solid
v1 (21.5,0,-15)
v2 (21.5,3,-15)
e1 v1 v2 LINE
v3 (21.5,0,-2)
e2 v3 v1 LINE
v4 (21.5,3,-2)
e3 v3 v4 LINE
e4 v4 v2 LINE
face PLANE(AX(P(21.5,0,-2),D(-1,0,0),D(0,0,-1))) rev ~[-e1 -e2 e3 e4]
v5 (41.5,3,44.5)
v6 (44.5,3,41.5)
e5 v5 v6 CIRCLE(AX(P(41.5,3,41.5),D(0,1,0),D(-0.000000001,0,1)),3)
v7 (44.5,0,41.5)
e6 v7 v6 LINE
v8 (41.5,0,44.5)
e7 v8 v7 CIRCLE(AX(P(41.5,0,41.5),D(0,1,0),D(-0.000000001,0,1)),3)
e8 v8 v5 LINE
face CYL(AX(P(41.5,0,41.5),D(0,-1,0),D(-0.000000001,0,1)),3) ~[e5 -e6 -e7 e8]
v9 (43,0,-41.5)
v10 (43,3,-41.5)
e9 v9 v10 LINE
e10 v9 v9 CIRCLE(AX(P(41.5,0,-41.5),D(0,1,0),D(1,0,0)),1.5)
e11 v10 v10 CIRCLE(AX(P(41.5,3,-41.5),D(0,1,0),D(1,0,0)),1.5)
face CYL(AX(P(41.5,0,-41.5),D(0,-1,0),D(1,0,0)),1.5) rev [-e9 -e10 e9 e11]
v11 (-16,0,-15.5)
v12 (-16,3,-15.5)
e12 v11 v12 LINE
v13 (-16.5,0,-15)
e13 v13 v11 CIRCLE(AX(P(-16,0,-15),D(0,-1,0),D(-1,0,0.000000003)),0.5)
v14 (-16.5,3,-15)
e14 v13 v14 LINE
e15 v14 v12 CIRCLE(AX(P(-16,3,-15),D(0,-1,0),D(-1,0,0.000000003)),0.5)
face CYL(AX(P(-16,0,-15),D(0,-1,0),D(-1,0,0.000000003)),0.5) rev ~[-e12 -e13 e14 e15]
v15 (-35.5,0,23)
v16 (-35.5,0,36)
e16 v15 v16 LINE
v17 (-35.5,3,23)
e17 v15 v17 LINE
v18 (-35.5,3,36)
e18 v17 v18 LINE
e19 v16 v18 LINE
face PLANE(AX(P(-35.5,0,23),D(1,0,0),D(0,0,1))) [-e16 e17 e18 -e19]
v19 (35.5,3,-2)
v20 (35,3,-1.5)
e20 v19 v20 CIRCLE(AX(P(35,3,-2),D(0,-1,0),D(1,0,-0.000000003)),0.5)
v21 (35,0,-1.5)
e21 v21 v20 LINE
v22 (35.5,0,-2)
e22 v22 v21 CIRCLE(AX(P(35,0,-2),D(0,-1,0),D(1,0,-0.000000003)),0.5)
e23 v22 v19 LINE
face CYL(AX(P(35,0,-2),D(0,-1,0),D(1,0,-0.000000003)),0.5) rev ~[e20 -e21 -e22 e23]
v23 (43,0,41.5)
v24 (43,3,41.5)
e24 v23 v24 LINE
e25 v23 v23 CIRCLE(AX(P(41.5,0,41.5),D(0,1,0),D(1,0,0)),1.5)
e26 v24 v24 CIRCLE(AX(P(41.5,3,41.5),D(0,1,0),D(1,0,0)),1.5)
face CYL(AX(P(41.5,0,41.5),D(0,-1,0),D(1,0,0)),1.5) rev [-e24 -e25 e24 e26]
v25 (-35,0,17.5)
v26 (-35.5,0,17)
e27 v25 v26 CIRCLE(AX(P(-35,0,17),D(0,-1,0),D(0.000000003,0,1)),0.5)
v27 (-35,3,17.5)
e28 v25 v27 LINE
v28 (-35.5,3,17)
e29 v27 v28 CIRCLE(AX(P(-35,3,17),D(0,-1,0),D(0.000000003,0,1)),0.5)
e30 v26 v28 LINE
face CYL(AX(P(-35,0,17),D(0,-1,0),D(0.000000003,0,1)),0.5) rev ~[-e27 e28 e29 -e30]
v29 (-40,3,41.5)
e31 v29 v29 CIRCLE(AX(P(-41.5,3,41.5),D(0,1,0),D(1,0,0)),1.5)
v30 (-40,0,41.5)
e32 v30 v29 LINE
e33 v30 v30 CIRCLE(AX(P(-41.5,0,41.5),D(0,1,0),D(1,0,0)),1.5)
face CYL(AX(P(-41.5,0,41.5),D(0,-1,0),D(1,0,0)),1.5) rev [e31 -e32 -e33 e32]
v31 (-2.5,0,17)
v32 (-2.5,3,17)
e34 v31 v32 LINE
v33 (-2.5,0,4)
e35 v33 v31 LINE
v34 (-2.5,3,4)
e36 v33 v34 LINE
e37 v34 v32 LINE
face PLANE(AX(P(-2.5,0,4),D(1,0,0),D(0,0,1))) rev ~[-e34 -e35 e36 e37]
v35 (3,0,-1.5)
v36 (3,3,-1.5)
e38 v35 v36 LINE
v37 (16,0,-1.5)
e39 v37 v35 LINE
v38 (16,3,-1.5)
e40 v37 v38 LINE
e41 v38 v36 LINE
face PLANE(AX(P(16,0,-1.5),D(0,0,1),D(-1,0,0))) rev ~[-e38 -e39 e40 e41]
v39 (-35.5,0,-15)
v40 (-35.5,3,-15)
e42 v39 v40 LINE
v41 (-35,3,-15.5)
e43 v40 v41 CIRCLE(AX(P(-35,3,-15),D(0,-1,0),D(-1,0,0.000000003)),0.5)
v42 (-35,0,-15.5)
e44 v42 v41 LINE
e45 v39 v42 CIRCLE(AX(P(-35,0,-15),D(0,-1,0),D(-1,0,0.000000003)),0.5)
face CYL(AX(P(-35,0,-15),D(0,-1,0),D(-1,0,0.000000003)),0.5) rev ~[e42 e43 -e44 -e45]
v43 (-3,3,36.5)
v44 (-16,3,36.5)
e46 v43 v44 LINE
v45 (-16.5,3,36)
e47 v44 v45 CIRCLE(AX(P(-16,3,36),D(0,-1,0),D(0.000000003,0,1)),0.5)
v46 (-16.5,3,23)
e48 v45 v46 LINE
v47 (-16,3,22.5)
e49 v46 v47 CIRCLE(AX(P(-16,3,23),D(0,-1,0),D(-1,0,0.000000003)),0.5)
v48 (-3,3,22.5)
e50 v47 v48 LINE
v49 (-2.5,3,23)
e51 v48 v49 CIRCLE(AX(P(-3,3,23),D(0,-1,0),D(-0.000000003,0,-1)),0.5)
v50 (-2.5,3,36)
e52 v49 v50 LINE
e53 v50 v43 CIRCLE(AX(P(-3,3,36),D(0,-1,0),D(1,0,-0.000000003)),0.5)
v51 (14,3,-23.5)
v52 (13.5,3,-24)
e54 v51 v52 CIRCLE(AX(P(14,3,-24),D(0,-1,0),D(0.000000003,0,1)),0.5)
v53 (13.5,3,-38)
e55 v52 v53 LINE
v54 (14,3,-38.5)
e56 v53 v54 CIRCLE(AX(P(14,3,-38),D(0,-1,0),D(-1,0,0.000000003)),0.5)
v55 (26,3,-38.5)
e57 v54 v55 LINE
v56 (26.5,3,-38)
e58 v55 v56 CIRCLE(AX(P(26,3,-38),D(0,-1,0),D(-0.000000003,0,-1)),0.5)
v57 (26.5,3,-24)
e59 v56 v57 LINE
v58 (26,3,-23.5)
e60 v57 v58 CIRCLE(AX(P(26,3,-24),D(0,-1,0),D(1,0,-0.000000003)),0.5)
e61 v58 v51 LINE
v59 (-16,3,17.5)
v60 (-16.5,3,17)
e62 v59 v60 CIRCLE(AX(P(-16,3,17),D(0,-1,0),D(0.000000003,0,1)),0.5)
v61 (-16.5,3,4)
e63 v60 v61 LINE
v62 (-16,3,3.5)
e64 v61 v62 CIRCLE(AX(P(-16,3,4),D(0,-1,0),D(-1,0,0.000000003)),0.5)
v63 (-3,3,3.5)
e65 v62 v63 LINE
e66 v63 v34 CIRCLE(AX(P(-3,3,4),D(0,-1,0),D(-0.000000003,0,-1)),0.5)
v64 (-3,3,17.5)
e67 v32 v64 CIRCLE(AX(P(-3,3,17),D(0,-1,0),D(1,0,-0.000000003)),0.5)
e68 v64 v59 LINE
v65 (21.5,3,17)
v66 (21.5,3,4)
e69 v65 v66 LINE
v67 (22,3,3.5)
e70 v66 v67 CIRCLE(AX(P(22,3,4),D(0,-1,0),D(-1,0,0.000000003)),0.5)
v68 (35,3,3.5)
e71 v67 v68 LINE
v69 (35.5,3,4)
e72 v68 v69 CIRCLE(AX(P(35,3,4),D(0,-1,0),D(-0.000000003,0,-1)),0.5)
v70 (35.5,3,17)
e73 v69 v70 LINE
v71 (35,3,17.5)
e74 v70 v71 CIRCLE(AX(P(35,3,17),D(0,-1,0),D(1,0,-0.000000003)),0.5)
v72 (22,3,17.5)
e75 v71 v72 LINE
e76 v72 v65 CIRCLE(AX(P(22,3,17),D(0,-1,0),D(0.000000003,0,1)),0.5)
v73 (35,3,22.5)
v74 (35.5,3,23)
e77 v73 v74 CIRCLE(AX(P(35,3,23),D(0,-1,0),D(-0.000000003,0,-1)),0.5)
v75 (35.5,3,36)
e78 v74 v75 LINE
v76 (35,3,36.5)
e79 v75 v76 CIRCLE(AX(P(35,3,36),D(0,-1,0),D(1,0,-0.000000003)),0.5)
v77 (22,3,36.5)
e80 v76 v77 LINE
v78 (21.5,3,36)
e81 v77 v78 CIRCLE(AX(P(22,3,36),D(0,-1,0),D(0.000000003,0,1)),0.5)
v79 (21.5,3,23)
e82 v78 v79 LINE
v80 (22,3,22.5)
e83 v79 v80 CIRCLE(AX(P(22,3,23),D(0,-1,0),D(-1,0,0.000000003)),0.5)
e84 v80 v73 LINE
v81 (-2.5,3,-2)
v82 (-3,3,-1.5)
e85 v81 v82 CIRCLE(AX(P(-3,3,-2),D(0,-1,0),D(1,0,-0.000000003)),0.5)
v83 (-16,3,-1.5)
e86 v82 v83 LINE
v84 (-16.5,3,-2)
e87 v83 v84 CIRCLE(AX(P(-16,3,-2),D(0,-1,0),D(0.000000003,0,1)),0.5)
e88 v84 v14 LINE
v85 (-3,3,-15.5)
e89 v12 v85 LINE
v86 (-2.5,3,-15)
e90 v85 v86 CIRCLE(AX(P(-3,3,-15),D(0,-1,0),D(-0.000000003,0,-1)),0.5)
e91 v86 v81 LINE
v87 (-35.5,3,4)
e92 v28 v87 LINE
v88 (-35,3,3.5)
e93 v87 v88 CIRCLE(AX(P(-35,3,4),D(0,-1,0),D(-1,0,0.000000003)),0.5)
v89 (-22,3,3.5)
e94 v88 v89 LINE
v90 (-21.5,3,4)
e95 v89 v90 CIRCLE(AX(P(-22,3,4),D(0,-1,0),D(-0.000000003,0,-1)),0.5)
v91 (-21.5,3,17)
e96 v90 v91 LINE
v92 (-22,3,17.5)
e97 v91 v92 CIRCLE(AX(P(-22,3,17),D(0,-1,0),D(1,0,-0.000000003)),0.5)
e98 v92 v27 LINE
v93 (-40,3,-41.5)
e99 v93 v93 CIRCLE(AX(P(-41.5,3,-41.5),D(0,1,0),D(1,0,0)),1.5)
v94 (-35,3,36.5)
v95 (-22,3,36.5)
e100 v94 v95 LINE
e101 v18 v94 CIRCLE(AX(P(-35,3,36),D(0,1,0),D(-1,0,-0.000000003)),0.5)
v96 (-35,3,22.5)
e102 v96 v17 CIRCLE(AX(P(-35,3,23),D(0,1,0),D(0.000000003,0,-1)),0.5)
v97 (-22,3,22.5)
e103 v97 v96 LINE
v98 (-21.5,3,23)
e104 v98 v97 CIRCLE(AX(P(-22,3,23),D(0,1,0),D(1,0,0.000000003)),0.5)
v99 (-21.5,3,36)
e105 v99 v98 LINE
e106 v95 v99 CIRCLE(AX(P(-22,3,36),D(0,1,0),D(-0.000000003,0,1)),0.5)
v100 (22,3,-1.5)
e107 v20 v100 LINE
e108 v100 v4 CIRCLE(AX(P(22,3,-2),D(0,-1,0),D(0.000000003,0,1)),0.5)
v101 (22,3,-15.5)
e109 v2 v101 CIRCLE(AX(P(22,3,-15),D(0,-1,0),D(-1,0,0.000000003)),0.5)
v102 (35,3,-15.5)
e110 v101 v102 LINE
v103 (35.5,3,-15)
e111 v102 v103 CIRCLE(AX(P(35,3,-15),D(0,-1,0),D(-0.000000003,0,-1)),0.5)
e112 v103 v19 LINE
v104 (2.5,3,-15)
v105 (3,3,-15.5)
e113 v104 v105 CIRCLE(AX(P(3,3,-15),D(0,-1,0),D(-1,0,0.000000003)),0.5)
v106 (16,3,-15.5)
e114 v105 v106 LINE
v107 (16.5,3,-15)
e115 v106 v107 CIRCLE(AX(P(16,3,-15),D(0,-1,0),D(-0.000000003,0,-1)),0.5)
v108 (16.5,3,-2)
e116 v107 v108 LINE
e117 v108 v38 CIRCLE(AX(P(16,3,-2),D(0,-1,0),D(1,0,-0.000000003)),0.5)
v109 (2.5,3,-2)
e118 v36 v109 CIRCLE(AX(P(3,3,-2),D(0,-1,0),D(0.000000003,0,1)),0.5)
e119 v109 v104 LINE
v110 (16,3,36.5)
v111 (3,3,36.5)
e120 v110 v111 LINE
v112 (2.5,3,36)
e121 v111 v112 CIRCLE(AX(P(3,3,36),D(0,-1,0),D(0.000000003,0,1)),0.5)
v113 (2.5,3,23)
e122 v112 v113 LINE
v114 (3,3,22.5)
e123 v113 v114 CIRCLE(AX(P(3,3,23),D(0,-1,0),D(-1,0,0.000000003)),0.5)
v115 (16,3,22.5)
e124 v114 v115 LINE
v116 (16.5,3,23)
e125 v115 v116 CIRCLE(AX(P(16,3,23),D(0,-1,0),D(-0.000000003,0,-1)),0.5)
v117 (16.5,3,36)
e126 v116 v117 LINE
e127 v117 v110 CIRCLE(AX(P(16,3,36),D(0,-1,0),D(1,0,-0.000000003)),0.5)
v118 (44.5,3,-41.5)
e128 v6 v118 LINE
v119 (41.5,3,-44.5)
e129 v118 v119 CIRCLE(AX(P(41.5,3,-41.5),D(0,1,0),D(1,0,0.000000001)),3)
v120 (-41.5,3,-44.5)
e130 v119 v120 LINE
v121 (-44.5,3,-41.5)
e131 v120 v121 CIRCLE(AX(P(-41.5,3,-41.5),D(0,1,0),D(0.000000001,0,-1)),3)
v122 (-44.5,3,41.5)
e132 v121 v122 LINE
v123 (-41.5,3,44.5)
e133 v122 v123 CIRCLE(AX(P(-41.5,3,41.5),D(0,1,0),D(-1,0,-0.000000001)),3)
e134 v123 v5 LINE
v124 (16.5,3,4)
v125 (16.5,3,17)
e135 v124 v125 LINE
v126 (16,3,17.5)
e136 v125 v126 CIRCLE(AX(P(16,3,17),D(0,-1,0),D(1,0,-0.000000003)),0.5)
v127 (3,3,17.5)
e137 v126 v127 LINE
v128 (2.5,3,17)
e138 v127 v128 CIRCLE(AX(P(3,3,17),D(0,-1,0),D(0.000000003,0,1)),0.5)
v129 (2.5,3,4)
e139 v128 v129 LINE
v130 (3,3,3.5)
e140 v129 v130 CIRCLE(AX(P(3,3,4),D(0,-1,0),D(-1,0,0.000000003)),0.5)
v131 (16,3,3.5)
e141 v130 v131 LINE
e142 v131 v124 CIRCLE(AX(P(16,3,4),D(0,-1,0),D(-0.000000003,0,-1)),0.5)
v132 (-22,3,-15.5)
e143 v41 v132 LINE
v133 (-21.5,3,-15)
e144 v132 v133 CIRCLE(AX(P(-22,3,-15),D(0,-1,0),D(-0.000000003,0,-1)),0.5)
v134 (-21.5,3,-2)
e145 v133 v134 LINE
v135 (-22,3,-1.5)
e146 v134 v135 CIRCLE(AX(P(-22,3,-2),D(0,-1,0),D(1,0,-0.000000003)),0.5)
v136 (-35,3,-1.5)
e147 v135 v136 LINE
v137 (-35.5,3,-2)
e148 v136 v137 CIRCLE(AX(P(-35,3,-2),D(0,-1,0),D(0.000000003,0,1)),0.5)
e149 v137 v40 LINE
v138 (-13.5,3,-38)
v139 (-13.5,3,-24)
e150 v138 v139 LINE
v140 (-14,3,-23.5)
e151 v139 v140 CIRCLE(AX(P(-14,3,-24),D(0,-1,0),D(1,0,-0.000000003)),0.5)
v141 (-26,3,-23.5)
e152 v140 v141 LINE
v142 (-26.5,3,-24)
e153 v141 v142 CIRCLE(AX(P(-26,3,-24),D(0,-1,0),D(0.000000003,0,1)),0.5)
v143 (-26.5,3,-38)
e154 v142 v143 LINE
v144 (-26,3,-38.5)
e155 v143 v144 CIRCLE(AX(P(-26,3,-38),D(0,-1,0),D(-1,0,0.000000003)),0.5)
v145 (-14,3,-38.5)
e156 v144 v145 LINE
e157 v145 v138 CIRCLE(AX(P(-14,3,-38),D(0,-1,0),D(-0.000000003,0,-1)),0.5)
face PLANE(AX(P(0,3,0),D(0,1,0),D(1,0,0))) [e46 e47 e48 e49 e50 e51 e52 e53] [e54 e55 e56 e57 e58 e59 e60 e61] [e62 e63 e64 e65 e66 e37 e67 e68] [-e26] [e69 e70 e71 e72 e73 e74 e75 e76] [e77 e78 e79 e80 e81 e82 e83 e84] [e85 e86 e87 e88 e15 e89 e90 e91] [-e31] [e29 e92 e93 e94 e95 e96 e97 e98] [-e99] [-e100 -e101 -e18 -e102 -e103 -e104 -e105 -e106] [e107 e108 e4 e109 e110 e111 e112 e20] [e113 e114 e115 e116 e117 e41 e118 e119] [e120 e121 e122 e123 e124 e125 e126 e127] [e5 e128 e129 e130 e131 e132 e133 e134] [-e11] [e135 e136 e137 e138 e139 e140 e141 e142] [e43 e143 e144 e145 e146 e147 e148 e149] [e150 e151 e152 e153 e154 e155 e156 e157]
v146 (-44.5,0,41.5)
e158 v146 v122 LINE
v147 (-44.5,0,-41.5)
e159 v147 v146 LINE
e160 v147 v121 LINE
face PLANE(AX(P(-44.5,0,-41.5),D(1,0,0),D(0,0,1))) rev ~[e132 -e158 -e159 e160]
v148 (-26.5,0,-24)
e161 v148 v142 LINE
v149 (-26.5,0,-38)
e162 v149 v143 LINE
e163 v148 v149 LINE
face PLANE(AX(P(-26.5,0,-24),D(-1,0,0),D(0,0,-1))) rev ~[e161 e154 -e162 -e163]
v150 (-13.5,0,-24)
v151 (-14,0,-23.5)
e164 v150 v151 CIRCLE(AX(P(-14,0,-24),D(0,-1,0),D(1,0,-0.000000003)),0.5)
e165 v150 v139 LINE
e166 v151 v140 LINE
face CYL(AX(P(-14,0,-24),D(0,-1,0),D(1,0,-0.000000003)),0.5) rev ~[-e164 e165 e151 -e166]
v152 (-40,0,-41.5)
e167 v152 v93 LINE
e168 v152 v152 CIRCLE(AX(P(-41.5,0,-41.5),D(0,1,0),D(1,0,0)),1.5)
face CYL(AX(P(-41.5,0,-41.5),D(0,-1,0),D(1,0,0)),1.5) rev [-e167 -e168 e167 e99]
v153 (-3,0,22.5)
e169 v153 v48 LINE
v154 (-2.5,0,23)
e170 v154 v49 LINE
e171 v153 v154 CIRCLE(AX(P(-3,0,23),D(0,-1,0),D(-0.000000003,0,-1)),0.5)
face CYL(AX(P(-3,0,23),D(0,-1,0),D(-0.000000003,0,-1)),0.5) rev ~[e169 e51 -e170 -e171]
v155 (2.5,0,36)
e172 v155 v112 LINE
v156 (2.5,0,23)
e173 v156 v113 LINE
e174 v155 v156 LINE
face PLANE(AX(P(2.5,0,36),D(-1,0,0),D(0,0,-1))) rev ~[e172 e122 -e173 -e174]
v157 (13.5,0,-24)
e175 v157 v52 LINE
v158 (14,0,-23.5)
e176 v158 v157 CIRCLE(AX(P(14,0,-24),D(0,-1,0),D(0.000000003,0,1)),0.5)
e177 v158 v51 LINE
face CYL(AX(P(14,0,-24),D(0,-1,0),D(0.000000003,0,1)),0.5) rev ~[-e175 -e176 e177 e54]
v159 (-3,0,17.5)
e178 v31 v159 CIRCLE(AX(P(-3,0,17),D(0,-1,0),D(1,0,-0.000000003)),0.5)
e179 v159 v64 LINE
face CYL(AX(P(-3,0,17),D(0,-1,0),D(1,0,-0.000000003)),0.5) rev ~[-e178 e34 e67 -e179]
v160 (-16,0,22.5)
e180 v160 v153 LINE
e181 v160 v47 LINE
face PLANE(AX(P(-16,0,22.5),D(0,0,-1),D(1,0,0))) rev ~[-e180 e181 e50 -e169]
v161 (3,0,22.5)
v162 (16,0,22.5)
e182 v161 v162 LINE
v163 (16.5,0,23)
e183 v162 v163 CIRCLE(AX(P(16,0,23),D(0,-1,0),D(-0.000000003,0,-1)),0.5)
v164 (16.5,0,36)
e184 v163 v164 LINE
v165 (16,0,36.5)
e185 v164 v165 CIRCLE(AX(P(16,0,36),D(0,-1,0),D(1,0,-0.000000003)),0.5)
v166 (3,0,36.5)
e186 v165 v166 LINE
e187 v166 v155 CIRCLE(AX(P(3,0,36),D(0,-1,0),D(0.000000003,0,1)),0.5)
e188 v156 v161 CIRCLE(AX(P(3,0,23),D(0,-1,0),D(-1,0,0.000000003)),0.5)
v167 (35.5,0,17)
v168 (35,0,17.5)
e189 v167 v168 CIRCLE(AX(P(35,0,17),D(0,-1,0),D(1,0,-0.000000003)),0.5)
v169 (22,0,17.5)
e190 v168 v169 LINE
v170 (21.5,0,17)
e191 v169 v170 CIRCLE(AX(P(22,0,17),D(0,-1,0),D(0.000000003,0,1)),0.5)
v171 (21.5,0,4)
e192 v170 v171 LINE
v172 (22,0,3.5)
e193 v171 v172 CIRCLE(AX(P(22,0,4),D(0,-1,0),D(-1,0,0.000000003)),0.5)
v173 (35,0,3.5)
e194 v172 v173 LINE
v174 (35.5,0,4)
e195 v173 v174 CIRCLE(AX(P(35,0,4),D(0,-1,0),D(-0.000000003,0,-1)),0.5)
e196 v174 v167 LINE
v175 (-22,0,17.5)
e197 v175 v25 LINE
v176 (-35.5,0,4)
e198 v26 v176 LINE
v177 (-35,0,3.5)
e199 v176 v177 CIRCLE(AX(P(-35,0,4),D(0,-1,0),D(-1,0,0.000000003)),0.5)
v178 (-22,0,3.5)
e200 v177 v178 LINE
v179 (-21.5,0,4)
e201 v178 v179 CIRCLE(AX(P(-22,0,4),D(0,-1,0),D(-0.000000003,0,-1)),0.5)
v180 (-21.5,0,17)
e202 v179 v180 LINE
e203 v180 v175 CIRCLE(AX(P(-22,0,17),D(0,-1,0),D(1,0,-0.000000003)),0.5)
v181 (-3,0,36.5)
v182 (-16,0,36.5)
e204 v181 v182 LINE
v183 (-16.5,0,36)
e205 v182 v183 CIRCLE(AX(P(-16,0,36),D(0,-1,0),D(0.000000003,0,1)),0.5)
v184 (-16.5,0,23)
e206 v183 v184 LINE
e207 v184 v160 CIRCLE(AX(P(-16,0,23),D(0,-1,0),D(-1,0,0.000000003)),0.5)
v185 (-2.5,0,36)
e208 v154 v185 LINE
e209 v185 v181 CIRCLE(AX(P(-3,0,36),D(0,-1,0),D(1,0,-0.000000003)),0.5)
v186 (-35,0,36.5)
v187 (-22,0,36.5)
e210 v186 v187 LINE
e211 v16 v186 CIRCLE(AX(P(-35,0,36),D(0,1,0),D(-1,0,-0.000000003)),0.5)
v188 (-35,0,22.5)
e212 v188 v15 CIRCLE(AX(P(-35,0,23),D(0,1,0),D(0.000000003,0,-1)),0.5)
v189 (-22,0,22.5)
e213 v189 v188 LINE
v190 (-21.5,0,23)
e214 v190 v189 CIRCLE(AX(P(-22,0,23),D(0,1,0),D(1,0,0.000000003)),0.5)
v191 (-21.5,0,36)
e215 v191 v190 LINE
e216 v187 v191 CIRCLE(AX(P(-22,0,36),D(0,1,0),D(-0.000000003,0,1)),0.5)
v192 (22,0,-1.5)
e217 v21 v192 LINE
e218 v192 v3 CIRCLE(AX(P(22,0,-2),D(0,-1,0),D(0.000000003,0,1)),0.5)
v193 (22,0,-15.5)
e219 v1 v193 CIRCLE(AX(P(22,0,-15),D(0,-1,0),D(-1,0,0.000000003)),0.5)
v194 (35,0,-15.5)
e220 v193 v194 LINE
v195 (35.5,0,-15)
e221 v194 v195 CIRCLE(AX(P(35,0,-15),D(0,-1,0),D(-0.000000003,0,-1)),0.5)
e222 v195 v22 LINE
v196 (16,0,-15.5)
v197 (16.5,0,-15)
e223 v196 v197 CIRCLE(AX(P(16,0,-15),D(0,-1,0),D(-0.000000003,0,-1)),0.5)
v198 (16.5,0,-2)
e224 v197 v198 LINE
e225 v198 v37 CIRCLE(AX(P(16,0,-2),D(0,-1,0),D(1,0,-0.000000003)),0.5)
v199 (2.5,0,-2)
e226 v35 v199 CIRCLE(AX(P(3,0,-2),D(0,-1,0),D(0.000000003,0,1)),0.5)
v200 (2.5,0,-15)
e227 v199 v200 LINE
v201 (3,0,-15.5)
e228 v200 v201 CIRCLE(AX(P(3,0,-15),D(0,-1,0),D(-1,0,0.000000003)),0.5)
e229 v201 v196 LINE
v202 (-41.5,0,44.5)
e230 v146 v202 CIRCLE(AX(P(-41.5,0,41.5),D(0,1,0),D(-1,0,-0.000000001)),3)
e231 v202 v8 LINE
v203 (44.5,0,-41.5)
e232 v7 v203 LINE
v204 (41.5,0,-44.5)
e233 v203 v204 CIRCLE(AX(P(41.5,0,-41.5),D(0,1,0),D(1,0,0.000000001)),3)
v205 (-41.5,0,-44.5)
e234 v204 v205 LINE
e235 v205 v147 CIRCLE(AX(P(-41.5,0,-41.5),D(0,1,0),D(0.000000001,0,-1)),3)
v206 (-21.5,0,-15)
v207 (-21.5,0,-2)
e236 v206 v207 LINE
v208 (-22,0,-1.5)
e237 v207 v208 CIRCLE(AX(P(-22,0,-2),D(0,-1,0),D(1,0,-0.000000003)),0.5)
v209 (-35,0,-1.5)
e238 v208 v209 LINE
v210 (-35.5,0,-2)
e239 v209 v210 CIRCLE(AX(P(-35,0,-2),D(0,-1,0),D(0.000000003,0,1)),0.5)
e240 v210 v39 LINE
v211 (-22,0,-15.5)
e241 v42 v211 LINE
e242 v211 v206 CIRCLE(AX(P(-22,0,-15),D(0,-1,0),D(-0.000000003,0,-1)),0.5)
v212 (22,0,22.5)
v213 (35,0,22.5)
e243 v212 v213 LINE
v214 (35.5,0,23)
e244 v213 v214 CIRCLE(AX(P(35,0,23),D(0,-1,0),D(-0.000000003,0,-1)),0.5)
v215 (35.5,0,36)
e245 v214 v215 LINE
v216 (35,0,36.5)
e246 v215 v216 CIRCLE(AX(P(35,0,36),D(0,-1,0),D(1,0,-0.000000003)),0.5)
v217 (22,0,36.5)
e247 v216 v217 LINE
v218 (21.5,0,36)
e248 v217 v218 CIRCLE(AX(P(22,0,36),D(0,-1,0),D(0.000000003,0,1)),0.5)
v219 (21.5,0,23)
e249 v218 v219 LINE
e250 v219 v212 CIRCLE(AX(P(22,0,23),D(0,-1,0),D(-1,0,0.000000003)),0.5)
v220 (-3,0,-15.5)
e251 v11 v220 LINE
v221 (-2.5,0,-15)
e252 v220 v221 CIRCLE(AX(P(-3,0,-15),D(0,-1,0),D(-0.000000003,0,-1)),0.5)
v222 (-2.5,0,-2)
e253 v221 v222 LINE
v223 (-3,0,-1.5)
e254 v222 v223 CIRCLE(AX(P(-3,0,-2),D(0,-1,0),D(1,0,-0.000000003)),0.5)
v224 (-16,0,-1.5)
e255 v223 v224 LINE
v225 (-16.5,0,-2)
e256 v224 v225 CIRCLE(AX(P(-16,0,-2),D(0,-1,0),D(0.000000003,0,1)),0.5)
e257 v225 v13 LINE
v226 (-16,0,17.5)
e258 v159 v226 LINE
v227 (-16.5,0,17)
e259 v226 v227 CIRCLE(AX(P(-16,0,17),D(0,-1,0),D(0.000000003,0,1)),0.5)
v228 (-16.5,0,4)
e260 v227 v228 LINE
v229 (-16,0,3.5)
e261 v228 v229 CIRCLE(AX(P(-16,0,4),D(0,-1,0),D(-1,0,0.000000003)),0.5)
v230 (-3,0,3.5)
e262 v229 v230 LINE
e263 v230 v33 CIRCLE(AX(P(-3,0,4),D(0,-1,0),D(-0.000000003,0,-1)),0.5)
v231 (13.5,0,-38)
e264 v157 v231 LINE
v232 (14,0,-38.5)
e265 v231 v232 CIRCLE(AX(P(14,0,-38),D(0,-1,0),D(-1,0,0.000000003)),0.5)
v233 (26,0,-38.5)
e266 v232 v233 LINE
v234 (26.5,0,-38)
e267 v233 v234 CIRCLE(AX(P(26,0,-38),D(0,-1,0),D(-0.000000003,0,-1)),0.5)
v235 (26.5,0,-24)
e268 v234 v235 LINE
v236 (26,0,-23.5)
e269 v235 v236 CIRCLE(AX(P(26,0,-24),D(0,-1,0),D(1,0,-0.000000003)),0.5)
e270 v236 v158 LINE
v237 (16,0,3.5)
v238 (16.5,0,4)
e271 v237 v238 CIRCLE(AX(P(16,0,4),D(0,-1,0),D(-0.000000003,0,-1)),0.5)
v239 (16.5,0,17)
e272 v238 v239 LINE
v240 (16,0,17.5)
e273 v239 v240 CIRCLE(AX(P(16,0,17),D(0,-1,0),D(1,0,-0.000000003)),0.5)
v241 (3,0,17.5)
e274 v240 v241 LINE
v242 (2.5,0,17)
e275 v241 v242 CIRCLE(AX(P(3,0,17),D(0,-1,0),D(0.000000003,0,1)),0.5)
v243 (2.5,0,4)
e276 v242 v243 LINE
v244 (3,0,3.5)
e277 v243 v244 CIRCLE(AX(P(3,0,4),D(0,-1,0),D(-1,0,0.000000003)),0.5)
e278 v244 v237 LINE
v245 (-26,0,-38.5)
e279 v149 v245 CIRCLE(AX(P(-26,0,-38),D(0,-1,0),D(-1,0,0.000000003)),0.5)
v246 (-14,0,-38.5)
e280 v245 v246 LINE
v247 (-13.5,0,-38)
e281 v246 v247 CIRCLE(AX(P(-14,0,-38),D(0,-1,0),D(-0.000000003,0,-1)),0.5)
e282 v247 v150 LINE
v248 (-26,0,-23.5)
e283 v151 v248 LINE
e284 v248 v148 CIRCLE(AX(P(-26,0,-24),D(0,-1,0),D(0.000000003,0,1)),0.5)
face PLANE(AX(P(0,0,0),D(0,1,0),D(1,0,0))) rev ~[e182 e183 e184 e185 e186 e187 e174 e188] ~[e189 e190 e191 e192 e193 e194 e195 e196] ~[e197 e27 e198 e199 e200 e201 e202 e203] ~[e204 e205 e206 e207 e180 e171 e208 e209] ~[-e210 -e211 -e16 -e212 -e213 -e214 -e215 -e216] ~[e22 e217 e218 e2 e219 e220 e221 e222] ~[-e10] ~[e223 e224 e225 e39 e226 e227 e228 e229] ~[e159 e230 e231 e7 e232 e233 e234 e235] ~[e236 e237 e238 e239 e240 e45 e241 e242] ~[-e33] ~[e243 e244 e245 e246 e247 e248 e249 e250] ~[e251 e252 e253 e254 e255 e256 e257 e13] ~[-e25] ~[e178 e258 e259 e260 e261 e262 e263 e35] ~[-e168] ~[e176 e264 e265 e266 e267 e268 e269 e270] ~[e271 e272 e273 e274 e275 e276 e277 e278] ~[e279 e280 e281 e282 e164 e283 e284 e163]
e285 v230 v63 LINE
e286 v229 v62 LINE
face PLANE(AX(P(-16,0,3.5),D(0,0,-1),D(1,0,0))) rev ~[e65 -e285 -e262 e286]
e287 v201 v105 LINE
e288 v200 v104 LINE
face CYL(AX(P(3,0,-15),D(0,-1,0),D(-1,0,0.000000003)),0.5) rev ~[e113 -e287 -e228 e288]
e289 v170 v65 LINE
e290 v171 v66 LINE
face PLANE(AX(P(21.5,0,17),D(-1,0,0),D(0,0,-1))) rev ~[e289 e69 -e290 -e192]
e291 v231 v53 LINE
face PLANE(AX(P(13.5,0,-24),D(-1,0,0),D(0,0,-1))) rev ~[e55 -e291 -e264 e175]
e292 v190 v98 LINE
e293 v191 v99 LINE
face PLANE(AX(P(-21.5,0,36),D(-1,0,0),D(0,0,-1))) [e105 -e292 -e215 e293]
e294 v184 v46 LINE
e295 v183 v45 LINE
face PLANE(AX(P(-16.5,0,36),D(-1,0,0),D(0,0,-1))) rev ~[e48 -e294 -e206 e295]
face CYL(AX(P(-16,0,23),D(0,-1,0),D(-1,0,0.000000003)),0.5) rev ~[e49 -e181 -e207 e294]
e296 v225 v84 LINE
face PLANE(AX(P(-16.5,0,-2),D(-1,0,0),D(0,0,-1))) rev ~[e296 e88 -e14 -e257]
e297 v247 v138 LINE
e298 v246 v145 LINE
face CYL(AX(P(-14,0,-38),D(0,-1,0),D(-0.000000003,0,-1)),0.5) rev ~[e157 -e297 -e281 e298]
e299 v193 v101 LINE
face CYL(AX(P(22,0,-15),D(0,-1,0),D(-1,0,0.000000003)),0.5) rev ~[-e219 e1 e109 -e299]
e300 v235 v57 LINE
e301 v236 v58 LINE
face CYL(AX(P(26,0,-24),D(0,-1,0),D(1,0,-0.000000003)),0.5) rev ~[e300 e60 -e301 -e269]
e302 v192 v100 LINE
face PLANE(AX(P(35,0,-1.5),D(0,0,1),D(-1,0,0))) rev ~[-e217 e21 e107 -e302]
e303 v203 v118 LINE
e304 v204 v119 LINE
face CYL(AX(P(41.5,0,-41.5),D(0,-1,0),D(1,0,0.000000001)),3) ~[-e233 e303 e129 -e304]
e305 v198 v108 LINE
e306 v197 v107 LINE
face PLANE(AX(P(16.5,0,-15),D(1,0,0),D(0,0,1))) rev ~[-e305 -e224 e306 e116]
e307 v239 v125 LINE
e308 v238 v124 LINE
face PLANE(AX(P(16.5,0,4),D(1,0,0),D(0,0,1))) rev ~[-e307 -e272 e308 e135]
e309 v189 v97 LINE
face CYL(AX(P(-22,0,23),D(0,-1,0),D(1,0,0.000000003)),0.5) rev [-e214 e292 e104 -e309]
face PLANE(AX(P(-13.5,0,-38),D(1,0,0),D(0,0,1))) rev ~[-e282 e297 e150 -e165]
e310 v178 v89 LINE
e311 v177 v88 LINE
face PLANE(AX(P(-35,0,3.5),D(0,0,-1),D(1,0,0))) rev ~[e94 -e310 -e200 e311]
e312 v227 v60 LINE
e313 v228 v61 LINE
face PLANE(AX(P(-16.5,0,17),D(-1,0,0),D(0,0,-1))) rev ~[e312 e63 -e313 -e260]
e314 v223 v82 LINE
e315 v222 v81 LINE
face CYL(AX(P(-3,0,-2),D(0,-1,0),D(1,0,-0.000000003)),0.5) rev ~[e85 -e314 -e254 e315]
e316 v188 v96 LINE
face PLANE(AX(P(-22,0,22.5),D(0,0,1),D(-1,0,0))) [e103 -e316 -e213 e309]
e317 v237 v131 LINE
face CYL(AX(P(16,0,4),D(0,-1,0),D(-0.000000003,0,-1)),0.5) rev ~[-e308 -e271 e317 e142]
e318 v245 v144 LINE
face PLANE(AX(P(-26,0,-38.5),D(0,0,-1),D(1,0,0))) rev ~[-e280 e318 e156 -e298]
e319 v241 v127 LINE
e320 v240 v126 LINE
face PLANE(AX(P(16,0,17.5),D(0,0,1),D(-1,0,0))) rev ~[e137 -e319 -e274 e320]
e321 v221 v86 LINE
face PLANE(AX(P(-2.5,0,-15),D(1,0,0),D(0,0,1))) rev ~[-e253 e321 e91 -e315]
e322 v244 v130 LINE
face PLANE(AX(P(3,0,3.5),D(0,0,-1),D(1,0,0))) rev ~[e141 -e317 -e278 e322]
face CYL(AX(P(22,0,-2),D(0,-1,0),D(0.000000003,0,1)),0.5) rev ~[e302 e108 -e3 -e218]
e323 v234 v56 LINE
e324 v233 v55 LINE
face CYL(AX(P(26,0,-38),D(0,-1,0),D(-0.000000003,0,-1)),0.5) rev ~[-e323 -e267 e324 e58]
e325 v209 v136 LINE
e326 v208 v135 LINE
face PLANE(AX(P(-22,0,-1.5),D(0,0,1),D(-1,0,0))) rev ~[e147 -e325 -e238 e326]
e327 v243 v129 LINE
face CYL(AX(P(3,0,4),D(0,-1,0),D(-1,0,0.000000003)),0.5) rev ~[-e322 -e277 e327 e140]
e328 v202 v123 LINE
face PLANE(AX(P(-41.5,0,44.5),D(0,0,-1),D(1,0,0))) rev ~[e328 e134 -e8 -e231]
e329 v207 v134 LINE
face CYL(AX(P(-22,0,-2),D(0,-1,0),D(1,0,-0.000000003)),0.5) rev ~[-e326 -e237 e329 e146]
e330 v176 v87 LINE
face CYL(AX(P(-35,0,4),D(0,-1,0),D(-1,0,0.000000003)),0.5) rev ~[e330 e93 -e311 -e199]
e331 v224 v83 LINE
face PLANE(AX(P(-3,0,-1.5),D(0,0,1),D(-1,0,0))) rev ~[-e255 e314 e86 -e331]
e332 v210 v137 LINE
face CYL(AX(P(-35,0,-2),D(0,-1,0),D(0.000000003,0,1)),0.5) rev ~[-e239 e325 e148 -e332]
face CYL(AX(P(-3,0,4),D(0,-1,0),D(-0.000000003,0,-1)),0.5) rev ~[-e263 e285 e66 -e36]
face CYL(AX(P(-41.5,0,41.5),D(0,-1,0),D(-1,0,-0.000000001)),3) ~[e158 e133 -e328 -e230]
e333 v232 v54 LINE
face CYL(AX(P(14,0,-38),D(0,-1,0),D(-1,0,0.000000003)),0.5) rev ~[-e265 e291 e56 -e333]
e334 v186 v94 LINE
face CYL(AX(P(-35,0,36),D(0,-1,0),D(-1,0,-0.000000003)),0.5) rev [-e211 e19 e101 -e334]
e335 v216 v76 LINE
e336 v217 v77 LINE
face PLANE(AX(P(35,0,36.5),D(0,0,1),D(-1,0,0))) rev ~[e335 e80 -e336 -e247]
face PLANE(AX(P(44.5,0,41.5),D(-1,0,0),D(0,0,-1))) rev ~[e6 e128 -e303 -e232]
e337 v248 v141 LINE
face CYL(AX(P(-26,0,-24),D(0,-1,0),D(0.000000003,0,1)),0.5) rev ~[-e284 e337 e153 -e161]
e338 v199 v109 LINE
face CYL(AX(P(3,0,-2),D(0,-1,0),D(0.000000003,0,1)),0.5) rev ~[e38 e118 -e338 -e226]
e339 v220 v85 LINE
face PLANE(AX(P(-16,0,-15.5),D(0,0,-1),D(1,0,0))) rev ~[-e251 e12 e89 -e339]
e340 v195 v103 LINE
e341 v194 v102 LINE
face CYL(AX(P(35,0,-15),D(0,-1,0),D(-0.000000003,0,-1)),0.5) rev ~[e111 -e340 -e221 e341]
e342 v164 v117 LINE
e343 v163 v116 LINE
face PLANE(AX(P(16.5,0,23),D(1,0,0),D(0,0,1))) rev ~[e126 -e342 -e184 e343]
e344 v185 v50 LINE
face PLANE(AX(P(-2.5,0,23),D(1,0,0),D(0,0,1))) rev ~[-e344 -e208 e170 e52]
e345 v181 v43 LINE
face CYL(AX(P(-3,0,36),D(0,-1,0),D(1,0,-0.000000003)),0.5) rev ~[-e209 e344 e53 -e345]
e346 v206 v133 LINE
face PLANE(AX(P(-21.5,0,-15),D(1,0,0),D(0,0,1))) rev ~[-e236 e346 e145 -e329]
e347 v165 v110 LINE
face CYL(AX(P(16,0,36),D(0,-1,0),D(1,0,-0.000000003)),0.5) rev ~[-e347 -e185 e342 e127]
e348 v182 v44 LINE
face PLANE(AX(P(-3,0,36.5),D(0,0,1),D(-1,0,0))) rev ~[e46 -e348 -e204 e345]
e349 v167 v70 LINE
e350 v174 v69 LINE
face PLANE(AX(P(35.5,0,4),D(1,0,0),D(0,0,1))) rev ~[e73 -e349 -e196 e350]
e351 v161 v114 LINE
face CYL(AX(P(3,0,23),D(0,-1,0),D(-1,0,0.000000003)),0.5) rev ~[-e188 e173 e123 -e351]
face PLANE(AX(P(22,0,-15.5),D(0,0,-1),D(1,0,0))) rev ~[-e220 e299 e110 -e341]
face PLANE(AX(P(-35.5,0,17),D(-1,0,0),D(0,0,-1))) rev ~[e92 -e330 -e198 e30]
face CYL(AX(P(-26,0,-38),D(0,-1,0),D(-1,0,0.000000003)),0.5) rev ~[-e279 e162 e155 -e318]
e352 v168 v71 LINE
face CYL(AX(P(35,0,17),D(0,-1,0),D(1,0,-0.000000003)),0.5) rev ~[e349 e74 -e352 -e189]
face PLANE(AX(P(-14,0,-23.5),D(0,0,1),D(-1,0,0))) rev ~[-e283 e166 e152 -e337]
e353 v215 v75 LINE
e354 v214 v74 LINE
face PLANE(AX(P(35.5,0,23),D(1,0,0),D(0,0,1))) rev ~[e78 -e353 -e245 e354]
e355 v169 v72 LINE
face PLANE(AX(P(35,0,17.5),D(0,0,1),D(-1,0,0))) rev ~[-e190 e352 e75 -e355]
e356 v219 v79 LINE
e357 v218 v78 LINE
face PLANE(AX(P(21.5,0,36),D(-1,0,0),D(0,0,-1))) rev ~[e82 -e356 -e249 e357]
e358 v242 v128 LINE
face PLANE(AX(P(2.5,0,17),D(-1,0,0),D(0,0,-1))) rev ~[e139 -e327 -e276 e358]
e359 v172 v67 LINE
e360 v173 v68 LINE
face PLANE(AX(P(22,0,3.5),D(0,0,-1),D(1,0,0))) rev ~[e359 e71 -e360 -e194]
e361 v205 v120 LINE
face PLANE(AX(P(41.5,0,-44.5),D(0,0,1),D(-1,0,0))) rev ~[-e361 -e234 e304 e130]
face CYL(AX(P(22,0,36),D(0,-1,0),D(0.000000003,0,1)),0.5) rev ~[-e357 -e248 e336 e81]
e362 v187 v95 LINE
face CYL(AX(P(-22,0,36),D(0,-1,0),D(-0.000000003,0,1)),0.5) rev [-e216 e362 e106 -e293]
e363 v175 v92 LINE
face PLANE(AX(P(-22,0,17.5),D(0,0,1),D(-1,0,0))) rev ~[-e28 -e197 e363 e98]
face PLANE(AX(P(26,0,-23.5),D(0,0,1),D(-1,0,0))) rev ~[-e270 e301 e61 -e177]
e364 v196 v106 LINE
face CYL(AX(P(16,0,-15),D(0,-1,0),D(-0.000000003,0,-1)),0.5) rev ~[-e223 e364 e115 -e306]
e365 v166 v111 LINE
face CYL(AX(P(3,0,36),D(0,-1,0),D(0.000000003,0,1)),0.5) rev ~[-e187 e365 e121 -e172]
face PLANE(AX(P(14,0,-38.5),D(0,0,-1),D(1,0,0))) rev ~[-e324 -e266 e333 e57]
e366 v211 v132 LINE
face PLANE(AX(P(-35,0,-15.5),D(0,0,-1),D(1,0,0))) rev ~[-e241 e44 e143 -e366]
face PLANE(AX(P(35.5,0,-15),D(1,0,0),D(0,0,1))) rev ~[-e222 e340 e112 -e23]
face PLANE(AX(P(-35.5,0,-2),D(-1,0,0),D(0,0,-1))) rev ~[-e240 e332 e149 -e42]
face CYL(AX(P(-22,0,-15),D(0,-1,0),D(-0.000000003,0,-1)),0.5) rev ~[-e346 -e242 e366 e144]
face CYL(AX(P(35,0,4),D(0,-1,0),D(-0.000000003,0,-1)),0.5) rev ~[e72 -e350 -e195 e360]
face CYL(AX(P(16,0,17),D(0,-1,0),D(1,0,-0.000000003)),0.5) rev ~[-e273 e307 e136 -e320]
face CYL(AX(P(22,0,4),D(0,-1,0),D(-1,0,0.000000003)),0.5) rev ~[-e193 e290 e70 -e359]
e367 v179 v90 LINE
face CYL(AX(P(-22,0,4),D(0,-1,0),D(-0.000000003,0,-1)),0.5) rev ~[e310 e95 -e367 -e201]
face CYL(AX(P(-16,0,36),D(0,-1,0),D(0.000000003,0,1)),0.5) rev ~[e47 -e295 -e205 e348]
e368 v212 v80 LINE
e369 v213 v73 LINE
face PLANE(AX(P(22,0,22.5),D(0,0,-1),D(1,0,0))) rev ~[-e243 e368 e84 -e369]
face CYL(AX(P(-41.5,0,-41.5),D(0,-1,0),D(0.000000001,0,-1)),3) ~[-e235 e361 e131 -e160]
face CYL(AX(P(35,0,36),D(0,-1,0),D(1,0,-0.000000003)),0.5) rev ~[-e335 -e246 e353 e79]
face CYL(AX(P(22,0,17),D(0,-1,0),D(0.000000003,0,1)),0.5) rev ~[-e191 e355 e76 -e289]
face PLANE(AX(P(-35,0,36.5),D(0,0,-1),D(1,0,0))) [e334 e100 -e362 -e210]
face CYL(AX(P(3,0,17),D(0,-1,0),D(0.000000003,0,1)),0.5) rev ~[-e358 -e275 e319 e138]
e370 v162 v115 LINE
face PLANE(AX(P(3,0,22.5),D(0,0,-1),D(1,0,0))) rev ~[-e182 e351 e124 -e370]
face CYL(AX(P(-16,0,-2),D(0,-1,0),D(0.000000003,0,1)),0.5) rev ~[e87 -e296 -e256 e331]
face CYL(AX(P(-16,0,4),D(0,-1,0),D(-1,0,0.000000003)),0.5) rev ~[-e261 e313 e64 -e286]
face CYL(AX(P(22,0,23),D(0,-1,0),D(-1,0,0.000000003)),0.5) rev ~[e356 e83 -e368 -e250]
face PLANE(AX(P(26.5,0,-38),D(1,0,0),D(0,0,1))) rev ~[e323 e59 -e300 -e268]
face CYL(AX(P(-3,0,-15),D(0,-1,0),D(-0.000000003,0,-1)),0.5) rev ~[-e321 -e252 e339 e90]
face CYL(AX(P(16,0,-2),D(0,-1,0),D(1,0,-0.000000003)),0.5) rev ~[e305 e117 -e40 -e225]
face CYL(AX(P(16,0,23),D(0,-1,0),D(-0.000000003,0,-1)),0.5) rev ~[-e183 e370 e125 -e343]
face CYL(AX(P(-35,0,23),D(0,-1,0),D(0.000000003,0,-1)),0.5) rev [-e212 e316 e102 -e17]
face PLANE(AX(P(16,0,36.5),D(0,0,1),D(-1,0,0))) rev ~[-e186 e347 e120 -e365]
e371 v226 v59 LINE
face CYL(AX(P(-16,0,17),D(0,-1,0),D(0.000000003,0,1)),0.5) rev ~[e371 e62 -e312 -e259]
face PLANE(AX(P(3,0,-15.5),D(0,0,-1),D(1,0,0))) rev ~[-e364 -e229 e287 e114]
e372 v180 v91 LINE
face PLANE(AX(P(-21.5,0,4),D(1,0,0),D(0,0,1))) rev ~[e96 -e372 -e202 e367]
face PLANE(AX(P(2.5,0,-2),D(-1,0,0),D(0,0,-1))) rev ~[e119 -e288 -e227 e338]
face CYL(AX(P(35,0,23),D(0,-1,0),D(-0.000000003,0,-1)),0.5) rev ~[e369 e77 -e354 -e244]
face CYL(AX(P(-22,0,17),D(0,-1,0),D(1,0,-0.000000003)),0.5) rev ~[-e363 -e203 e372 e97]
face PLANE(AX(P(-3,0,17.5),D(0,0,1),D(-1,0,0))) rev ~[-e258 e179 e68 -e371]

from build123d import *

# Parameters (mm, degrees)
SKETCH1_R           = 1.5
BOSS_EXTRUDE1_DEPTH = 3


with BuildPart() as part:
    # Sketch1 → Boss-Extrude1 (new body)
    with BuildSketch(Plane(origin=(0, 0, 0), x_dir=(1, 0, 0), z_dir=(0, 1, 0))):
        with BuildLine():
            Line((-41.5, -44.5), (41.5, -44.5))
            ThreePointArc((41.5, -44.5), (43.621320344, -43.621320344), (44.5, -41.5))
            Line((44.5, -41.5), (44.5, 41.5))
            ThreePointArc((44.5, 41.5), (43.621320344, 43.621320344), (41.5, 44.5))
            Line((41.5, 44.5), (-41.5, 44.5))
            ThreePointArc((-41.5, 44.5), (-43.621320344, 43.621320344), (-44.5, 41.5))
            Line((-44.5, 41.5), (-44.5, -41.5))
            ThreePointArc((-44.5, -41.5), (-43.621320344, -43.621320344), (-41.5, -44.5))
        make_face()
        with Locations((-41.5, 41.5)):
            Circle(SKETCH1_R, mode=Mode.SUBTRACT)
        with Locations((41.5, 41.5)):
            Circle(SKETCH1_R, mode=Mode.SUBTRACT)
        with Locations((41.5, -41.5)):
            Circle(SKETCH1_R, mode=Mode.SUBTRACT)
        with Locations((-41.5, -41.5)):
            Circle(SKETCH1_R, mode=Mode.SUBTRACT)
        with BuildLine():
            Line((26, 23.5), (14, 23.5))
            ThreePointArc((14, 23.5), (13.646446609, 23.646446609), (13.5, 24))
            Line((13.5, 24), (13.5, 38))
            ThreePointArc((13.5, 38), (13.646446609, 38.353553391), (14, 38.5))
            Line((14, 38.5), (26, 38.5))
            ThreePointArc((26, 38.5), (26.353553391, 38.353553391), (26.5, 38))
            Line((26.5, 38), (26.5, 24))
            ThreePointArc((26.5, 24), (26.353553391, 23.646446609), (26, 23.5))
        make_face(mode=Mode.SUBTRACT)
        with BuildLine():
            Line((-16.5, -36), (-16.5, -23))
            ThreePointArc((-16.5, -23), (-16.353553391, -22.646446609), (-16, -22.5))
            Line((-16, -22.5), (-3, -22.5))
            ThreePointArc((-3, -22.5), (-2.646446609, -22.646446609), (-2.5, -23))
            Line((-2.5, -23), (-2.5, -36))
            ThreePointArc((-2.5, -36), (-2.646446609, -36.353553391), (-3, -36.5))
            Line((-3, -36.5), (-16, -36.5))
            ThreePointArc((-16, -36.5), (-16.353553391, -36.353553391), (-16.5, -36))
        make_face(mode=Mode.SUBTRACT)
        with BuildLine():
            Line((-35, -36.5), (-22, -36.5))
            ThreePointArc((-22, -36.5), (-21.646446609, -36.353553391), (-21.5, -36))
            Line((-21.5, -36), (-21.5, -23))
            ThreePointArc((-21.5, -23), (-21.646446609, -22.646446609), (-22, -22.5))
            Line((-22, -22.5), (-35, -22.5))
            ThreePointArc((-35, -22.5), (-35.353553391, -22.646446609), (-35.5, -23))
            Line((-35.5, -23), (-35.5, -36))
            ThreePointArc((-35.5, -36), (-35.353553391, -36.353553391), (-35, -36.5))
        make_face(mode=Mode.SUBTRACT)
        with BuildLine():
            Line((2.5, -36), (2.5, -23))
            ThreePointArc((2.5, -23), (2.646446609, -22.646446609), (3, -22.5))
            Line((3, -22.5), (16, -22.5))
            ThreePointArc((16, -22.5), (16.353553391, -22.646446609), (16.5, -23))
            Line((16.5, -23), (16.5, -36))
            ThreePointArc((16.5, -36), (16.353553391, -36.353553391), (16, -36.5))
            Line((16, -36.5), (3, -36.5))
            ThreePointArc((3, -36.5), (2.646446609, -36.353553391), (2.5, -36))
        make_face(mode=Mode.SUBTRACT)
        with BuildLine():
            Line((21.5, -36), (21.5, -23))
            ThreePointArc((21.5, -23), (21.646446609, -22.646446609), (22, -22.5))
            Line((22, -22.5), (35, -22.5))
            ThreePointArc((35, -22.5), (35.353553391, -22.646446609), (35.5, -23))
            Line((35.5, -23), (35.5, -36))
            ThreePointArc((35.5, -36), (35.353553391, -36.353553391), (35, -36.5))
            Line((35, -36.5), (22, -36.5))
            ThreePointArc((22, -36.5), (21.646446609, -36.353553391), (21.5, -36))
        make_face(mode=Mode.SUBTRACT)
        with BuildLine():
            Line((-16.5, -17), (-16.5, -4))
            ThreePointArc((-16.5, -4), (-16.353553391, -3.646446609), (-16, -3.5))
            Line((-16, -3.5), (-3, -3.5))
            ThreePointArc((-3, -3.5), (-2.646446609, -3.646446609), (-2.5, -4))
            Line((-2.5, -4), (-2.5, -17))
            ThreePointArc((-2.5, -17), (-2.646446609, -17.353553391), (-3, -17.5))
            Line((-3, -17.5), (-16, -17.5))
            ThreePointArc((-16, -17.5), (-16.353553391, -17.353553391), (-16.5, -17))
        make_face(mode=Mode.SUBTRACT)
        with BuildLine():
            Line((2.5, -17), (2.5, -4))
            ThreePointArc((2.5, -4), (2.646446609, -3.646446609), (3, -3.5))
            Line((3, -3.5), (16, -3.5))
            ThreePointArc((16, -3.5), (16.353553391, -3.646446609), (16.5, -4))
            Line((16.5, -4), (16.5, -17))
            ThreePointArc((16.5, -17), (16.353553391, -17.353553391), (16, -17.5))
            Line((16, -17.5), (3, -17.5))
            ThreePointArc((3, -17.5), (2.646446609, -17.353553391), (2.5, -17))
        make_face(mode=Mode.SUBTRACT)
        with BuildLine():
            Line((21.5, -17), (21.5, -4))
            ThreePointArc((21.5, -4), (21.646446609, -3.646446609), (22, -3.5))
            Line((22, -3.5), (35, -3.5))
            ThreePointArc((35, -3.5), (35.353553391, -3.646446609), (35.5, -4))
            Line((35.5, -4), (35.5, -17))
            ThreePointArc((35.5, -17), (35.353553391, -17.353553391), (35, -17.5))
            Line((35, -17.5), (22, -17.5))
            ThreePointArc((22, -17.5), (21.646446609, -17.353553391), (21.5, -17))
        make_face(mode=Mode.SUBTRACT)
        with BuildLine():
            Line((-16.5, 2), (-16.5, 15))
            ThreePointArc((-16.5, 15), (-16.353553391, 15.353553391), (-16, 15.5))
            Line((-16, 15.5), (-3, 15.5))
            ThreePointArc((-3, 15.5), (-2.646446609, 15.353553391), (-2.5, 15))
            Line((-2.5, 15), (-2.5, 2))
            ThreePointArc((-2.5, 2), (-2.646446609, 1.646446609), (-3, 1.5))
            Line((-3, 1.5), (-16, 1.5))
            ThreePointArc((-16, 1.5), (-16.353553391, 1.646446609), (-16.5, 2))
        make_face(mode=Mode.SUBTRACT)
        with BuildLine():
            Line((2.5, 2), (2.5, 15))
            ThreePointArc((2.5, 15), (2.646446609, 15.353553391), (3, 15.5))
            Line((3, 15.5), (16, 15.5))
            ThreePointArc((16, 15.5), (16.353553391, 15.353553391), (16.5, 15))
            Line((16.5, 15), (16.5, 2))
            ThreePointArc((16.5, 2), (16.353553391, 1.646446609), (16, 1.5))
            Line((16, 1.5), (3, 1.5))
            ThreePointArc((3, 1.5), (2.646446609, 1.646446609), (2.5, 2))
        make_face(mode=Mode.SUBTRACT)
        with BuildLine():
            Line((21.5, 2), (21.5, 15))
            ThreePointArc((21.5, 15), (21.646446609, 15.353553391), (22, 15.5))
            Line((22, 15.5), (35, 15.5))
            ThreePointArc((35, 15.5), (35.353553391, 15.353553391), (35.5, 15))
            Line((35.5, 15), (35.5, 2))
            ThreePointArc((35.5, 2), (35.353553391, 1.646446609), (35, 1.5))
            Line((35, 1.5), (22, 1.5))
            ThreePointArc((22, 1.5), (21.646446609, 1.646446609), (21.5, 2))
        make_face(mode=Mode.SUBTRACT)
        with BuildLine():
            Line((-35.5, -17), (-35.5, -4))
            ThreePointArc((-35.5, -4), (-35.353553391, -3.646446609), (-35, -3.5))
            Line((-35, -3.5), (-22, -3.5))
            ThreePointArc((-22, -3.5), (-21.646446609, -3.646446609), (-21.5, -4))
            Line((-21.5, -4), (-21.5, -17))
            ThreePointArc((-21.5, -17), (-21.646446609, -17.353553391), (-22, -17.5))
            Line((-22, -17.5), (-35, -17.5))
            ThreePointArc((-35, -17.5), (-35.353553391, -17.353553391), (-35.5, -17))
        make_face(mode=Mode.SUBTRACT)
        with BuildLine():
            Line((-35.5, 2), (-35.5, 15))
            ThreePointArc((-35.5, 15), (-35.353553391, 15.353553391), (-35, 15.5))
            Line((-35, 15.5), (-22, 15.5))
            ThreePointArc((-22, 15.5), (-21.646446609, 15.353553391), (-21.5, 15))
            Line((-21.5, 15), (-21.5, 2))
            ThreePointArc((-21.5, 2), (-21.646446609, 1.646446609), (-22, 1.5))
            Line((-22, 1.5), (-35, 1.5))
            ThreePointArc((-35, 1.5), (-35.353553391, 1.646446609), (-35.5, 2))
        make_face(mode=Mode.SUBTRACT)
        with BuildLine():
            Line((-26, 38.5), (-14, 38.5))
            ThreePointArc((-14, 38.5), (-13.646446609, 38.353553391), (-13.5, 38))
            Line((-13.5, 38), (-13.5, 24))
            ThreePointArc((-13.5, 24), (-13.646446609, 23.646446609), (-14, 23.5))
            Line((-14, 23.5), (-26, 23.5))
            ThreePointArc((-26, 23.5), (-26.353553391, 23.646446609), (-26.5, 24))
            Line((-26.5, 24), (-26.5, 38))
            ThreePointArc((-26.5, 38), (-26.353553391, 38.353553391), (-26, 38.5))
        make_face(mode=Mode.SUBTRACT)
    extrude(amount=BOSS_EXTRUDE1_DEPTH)


solid = part.part
